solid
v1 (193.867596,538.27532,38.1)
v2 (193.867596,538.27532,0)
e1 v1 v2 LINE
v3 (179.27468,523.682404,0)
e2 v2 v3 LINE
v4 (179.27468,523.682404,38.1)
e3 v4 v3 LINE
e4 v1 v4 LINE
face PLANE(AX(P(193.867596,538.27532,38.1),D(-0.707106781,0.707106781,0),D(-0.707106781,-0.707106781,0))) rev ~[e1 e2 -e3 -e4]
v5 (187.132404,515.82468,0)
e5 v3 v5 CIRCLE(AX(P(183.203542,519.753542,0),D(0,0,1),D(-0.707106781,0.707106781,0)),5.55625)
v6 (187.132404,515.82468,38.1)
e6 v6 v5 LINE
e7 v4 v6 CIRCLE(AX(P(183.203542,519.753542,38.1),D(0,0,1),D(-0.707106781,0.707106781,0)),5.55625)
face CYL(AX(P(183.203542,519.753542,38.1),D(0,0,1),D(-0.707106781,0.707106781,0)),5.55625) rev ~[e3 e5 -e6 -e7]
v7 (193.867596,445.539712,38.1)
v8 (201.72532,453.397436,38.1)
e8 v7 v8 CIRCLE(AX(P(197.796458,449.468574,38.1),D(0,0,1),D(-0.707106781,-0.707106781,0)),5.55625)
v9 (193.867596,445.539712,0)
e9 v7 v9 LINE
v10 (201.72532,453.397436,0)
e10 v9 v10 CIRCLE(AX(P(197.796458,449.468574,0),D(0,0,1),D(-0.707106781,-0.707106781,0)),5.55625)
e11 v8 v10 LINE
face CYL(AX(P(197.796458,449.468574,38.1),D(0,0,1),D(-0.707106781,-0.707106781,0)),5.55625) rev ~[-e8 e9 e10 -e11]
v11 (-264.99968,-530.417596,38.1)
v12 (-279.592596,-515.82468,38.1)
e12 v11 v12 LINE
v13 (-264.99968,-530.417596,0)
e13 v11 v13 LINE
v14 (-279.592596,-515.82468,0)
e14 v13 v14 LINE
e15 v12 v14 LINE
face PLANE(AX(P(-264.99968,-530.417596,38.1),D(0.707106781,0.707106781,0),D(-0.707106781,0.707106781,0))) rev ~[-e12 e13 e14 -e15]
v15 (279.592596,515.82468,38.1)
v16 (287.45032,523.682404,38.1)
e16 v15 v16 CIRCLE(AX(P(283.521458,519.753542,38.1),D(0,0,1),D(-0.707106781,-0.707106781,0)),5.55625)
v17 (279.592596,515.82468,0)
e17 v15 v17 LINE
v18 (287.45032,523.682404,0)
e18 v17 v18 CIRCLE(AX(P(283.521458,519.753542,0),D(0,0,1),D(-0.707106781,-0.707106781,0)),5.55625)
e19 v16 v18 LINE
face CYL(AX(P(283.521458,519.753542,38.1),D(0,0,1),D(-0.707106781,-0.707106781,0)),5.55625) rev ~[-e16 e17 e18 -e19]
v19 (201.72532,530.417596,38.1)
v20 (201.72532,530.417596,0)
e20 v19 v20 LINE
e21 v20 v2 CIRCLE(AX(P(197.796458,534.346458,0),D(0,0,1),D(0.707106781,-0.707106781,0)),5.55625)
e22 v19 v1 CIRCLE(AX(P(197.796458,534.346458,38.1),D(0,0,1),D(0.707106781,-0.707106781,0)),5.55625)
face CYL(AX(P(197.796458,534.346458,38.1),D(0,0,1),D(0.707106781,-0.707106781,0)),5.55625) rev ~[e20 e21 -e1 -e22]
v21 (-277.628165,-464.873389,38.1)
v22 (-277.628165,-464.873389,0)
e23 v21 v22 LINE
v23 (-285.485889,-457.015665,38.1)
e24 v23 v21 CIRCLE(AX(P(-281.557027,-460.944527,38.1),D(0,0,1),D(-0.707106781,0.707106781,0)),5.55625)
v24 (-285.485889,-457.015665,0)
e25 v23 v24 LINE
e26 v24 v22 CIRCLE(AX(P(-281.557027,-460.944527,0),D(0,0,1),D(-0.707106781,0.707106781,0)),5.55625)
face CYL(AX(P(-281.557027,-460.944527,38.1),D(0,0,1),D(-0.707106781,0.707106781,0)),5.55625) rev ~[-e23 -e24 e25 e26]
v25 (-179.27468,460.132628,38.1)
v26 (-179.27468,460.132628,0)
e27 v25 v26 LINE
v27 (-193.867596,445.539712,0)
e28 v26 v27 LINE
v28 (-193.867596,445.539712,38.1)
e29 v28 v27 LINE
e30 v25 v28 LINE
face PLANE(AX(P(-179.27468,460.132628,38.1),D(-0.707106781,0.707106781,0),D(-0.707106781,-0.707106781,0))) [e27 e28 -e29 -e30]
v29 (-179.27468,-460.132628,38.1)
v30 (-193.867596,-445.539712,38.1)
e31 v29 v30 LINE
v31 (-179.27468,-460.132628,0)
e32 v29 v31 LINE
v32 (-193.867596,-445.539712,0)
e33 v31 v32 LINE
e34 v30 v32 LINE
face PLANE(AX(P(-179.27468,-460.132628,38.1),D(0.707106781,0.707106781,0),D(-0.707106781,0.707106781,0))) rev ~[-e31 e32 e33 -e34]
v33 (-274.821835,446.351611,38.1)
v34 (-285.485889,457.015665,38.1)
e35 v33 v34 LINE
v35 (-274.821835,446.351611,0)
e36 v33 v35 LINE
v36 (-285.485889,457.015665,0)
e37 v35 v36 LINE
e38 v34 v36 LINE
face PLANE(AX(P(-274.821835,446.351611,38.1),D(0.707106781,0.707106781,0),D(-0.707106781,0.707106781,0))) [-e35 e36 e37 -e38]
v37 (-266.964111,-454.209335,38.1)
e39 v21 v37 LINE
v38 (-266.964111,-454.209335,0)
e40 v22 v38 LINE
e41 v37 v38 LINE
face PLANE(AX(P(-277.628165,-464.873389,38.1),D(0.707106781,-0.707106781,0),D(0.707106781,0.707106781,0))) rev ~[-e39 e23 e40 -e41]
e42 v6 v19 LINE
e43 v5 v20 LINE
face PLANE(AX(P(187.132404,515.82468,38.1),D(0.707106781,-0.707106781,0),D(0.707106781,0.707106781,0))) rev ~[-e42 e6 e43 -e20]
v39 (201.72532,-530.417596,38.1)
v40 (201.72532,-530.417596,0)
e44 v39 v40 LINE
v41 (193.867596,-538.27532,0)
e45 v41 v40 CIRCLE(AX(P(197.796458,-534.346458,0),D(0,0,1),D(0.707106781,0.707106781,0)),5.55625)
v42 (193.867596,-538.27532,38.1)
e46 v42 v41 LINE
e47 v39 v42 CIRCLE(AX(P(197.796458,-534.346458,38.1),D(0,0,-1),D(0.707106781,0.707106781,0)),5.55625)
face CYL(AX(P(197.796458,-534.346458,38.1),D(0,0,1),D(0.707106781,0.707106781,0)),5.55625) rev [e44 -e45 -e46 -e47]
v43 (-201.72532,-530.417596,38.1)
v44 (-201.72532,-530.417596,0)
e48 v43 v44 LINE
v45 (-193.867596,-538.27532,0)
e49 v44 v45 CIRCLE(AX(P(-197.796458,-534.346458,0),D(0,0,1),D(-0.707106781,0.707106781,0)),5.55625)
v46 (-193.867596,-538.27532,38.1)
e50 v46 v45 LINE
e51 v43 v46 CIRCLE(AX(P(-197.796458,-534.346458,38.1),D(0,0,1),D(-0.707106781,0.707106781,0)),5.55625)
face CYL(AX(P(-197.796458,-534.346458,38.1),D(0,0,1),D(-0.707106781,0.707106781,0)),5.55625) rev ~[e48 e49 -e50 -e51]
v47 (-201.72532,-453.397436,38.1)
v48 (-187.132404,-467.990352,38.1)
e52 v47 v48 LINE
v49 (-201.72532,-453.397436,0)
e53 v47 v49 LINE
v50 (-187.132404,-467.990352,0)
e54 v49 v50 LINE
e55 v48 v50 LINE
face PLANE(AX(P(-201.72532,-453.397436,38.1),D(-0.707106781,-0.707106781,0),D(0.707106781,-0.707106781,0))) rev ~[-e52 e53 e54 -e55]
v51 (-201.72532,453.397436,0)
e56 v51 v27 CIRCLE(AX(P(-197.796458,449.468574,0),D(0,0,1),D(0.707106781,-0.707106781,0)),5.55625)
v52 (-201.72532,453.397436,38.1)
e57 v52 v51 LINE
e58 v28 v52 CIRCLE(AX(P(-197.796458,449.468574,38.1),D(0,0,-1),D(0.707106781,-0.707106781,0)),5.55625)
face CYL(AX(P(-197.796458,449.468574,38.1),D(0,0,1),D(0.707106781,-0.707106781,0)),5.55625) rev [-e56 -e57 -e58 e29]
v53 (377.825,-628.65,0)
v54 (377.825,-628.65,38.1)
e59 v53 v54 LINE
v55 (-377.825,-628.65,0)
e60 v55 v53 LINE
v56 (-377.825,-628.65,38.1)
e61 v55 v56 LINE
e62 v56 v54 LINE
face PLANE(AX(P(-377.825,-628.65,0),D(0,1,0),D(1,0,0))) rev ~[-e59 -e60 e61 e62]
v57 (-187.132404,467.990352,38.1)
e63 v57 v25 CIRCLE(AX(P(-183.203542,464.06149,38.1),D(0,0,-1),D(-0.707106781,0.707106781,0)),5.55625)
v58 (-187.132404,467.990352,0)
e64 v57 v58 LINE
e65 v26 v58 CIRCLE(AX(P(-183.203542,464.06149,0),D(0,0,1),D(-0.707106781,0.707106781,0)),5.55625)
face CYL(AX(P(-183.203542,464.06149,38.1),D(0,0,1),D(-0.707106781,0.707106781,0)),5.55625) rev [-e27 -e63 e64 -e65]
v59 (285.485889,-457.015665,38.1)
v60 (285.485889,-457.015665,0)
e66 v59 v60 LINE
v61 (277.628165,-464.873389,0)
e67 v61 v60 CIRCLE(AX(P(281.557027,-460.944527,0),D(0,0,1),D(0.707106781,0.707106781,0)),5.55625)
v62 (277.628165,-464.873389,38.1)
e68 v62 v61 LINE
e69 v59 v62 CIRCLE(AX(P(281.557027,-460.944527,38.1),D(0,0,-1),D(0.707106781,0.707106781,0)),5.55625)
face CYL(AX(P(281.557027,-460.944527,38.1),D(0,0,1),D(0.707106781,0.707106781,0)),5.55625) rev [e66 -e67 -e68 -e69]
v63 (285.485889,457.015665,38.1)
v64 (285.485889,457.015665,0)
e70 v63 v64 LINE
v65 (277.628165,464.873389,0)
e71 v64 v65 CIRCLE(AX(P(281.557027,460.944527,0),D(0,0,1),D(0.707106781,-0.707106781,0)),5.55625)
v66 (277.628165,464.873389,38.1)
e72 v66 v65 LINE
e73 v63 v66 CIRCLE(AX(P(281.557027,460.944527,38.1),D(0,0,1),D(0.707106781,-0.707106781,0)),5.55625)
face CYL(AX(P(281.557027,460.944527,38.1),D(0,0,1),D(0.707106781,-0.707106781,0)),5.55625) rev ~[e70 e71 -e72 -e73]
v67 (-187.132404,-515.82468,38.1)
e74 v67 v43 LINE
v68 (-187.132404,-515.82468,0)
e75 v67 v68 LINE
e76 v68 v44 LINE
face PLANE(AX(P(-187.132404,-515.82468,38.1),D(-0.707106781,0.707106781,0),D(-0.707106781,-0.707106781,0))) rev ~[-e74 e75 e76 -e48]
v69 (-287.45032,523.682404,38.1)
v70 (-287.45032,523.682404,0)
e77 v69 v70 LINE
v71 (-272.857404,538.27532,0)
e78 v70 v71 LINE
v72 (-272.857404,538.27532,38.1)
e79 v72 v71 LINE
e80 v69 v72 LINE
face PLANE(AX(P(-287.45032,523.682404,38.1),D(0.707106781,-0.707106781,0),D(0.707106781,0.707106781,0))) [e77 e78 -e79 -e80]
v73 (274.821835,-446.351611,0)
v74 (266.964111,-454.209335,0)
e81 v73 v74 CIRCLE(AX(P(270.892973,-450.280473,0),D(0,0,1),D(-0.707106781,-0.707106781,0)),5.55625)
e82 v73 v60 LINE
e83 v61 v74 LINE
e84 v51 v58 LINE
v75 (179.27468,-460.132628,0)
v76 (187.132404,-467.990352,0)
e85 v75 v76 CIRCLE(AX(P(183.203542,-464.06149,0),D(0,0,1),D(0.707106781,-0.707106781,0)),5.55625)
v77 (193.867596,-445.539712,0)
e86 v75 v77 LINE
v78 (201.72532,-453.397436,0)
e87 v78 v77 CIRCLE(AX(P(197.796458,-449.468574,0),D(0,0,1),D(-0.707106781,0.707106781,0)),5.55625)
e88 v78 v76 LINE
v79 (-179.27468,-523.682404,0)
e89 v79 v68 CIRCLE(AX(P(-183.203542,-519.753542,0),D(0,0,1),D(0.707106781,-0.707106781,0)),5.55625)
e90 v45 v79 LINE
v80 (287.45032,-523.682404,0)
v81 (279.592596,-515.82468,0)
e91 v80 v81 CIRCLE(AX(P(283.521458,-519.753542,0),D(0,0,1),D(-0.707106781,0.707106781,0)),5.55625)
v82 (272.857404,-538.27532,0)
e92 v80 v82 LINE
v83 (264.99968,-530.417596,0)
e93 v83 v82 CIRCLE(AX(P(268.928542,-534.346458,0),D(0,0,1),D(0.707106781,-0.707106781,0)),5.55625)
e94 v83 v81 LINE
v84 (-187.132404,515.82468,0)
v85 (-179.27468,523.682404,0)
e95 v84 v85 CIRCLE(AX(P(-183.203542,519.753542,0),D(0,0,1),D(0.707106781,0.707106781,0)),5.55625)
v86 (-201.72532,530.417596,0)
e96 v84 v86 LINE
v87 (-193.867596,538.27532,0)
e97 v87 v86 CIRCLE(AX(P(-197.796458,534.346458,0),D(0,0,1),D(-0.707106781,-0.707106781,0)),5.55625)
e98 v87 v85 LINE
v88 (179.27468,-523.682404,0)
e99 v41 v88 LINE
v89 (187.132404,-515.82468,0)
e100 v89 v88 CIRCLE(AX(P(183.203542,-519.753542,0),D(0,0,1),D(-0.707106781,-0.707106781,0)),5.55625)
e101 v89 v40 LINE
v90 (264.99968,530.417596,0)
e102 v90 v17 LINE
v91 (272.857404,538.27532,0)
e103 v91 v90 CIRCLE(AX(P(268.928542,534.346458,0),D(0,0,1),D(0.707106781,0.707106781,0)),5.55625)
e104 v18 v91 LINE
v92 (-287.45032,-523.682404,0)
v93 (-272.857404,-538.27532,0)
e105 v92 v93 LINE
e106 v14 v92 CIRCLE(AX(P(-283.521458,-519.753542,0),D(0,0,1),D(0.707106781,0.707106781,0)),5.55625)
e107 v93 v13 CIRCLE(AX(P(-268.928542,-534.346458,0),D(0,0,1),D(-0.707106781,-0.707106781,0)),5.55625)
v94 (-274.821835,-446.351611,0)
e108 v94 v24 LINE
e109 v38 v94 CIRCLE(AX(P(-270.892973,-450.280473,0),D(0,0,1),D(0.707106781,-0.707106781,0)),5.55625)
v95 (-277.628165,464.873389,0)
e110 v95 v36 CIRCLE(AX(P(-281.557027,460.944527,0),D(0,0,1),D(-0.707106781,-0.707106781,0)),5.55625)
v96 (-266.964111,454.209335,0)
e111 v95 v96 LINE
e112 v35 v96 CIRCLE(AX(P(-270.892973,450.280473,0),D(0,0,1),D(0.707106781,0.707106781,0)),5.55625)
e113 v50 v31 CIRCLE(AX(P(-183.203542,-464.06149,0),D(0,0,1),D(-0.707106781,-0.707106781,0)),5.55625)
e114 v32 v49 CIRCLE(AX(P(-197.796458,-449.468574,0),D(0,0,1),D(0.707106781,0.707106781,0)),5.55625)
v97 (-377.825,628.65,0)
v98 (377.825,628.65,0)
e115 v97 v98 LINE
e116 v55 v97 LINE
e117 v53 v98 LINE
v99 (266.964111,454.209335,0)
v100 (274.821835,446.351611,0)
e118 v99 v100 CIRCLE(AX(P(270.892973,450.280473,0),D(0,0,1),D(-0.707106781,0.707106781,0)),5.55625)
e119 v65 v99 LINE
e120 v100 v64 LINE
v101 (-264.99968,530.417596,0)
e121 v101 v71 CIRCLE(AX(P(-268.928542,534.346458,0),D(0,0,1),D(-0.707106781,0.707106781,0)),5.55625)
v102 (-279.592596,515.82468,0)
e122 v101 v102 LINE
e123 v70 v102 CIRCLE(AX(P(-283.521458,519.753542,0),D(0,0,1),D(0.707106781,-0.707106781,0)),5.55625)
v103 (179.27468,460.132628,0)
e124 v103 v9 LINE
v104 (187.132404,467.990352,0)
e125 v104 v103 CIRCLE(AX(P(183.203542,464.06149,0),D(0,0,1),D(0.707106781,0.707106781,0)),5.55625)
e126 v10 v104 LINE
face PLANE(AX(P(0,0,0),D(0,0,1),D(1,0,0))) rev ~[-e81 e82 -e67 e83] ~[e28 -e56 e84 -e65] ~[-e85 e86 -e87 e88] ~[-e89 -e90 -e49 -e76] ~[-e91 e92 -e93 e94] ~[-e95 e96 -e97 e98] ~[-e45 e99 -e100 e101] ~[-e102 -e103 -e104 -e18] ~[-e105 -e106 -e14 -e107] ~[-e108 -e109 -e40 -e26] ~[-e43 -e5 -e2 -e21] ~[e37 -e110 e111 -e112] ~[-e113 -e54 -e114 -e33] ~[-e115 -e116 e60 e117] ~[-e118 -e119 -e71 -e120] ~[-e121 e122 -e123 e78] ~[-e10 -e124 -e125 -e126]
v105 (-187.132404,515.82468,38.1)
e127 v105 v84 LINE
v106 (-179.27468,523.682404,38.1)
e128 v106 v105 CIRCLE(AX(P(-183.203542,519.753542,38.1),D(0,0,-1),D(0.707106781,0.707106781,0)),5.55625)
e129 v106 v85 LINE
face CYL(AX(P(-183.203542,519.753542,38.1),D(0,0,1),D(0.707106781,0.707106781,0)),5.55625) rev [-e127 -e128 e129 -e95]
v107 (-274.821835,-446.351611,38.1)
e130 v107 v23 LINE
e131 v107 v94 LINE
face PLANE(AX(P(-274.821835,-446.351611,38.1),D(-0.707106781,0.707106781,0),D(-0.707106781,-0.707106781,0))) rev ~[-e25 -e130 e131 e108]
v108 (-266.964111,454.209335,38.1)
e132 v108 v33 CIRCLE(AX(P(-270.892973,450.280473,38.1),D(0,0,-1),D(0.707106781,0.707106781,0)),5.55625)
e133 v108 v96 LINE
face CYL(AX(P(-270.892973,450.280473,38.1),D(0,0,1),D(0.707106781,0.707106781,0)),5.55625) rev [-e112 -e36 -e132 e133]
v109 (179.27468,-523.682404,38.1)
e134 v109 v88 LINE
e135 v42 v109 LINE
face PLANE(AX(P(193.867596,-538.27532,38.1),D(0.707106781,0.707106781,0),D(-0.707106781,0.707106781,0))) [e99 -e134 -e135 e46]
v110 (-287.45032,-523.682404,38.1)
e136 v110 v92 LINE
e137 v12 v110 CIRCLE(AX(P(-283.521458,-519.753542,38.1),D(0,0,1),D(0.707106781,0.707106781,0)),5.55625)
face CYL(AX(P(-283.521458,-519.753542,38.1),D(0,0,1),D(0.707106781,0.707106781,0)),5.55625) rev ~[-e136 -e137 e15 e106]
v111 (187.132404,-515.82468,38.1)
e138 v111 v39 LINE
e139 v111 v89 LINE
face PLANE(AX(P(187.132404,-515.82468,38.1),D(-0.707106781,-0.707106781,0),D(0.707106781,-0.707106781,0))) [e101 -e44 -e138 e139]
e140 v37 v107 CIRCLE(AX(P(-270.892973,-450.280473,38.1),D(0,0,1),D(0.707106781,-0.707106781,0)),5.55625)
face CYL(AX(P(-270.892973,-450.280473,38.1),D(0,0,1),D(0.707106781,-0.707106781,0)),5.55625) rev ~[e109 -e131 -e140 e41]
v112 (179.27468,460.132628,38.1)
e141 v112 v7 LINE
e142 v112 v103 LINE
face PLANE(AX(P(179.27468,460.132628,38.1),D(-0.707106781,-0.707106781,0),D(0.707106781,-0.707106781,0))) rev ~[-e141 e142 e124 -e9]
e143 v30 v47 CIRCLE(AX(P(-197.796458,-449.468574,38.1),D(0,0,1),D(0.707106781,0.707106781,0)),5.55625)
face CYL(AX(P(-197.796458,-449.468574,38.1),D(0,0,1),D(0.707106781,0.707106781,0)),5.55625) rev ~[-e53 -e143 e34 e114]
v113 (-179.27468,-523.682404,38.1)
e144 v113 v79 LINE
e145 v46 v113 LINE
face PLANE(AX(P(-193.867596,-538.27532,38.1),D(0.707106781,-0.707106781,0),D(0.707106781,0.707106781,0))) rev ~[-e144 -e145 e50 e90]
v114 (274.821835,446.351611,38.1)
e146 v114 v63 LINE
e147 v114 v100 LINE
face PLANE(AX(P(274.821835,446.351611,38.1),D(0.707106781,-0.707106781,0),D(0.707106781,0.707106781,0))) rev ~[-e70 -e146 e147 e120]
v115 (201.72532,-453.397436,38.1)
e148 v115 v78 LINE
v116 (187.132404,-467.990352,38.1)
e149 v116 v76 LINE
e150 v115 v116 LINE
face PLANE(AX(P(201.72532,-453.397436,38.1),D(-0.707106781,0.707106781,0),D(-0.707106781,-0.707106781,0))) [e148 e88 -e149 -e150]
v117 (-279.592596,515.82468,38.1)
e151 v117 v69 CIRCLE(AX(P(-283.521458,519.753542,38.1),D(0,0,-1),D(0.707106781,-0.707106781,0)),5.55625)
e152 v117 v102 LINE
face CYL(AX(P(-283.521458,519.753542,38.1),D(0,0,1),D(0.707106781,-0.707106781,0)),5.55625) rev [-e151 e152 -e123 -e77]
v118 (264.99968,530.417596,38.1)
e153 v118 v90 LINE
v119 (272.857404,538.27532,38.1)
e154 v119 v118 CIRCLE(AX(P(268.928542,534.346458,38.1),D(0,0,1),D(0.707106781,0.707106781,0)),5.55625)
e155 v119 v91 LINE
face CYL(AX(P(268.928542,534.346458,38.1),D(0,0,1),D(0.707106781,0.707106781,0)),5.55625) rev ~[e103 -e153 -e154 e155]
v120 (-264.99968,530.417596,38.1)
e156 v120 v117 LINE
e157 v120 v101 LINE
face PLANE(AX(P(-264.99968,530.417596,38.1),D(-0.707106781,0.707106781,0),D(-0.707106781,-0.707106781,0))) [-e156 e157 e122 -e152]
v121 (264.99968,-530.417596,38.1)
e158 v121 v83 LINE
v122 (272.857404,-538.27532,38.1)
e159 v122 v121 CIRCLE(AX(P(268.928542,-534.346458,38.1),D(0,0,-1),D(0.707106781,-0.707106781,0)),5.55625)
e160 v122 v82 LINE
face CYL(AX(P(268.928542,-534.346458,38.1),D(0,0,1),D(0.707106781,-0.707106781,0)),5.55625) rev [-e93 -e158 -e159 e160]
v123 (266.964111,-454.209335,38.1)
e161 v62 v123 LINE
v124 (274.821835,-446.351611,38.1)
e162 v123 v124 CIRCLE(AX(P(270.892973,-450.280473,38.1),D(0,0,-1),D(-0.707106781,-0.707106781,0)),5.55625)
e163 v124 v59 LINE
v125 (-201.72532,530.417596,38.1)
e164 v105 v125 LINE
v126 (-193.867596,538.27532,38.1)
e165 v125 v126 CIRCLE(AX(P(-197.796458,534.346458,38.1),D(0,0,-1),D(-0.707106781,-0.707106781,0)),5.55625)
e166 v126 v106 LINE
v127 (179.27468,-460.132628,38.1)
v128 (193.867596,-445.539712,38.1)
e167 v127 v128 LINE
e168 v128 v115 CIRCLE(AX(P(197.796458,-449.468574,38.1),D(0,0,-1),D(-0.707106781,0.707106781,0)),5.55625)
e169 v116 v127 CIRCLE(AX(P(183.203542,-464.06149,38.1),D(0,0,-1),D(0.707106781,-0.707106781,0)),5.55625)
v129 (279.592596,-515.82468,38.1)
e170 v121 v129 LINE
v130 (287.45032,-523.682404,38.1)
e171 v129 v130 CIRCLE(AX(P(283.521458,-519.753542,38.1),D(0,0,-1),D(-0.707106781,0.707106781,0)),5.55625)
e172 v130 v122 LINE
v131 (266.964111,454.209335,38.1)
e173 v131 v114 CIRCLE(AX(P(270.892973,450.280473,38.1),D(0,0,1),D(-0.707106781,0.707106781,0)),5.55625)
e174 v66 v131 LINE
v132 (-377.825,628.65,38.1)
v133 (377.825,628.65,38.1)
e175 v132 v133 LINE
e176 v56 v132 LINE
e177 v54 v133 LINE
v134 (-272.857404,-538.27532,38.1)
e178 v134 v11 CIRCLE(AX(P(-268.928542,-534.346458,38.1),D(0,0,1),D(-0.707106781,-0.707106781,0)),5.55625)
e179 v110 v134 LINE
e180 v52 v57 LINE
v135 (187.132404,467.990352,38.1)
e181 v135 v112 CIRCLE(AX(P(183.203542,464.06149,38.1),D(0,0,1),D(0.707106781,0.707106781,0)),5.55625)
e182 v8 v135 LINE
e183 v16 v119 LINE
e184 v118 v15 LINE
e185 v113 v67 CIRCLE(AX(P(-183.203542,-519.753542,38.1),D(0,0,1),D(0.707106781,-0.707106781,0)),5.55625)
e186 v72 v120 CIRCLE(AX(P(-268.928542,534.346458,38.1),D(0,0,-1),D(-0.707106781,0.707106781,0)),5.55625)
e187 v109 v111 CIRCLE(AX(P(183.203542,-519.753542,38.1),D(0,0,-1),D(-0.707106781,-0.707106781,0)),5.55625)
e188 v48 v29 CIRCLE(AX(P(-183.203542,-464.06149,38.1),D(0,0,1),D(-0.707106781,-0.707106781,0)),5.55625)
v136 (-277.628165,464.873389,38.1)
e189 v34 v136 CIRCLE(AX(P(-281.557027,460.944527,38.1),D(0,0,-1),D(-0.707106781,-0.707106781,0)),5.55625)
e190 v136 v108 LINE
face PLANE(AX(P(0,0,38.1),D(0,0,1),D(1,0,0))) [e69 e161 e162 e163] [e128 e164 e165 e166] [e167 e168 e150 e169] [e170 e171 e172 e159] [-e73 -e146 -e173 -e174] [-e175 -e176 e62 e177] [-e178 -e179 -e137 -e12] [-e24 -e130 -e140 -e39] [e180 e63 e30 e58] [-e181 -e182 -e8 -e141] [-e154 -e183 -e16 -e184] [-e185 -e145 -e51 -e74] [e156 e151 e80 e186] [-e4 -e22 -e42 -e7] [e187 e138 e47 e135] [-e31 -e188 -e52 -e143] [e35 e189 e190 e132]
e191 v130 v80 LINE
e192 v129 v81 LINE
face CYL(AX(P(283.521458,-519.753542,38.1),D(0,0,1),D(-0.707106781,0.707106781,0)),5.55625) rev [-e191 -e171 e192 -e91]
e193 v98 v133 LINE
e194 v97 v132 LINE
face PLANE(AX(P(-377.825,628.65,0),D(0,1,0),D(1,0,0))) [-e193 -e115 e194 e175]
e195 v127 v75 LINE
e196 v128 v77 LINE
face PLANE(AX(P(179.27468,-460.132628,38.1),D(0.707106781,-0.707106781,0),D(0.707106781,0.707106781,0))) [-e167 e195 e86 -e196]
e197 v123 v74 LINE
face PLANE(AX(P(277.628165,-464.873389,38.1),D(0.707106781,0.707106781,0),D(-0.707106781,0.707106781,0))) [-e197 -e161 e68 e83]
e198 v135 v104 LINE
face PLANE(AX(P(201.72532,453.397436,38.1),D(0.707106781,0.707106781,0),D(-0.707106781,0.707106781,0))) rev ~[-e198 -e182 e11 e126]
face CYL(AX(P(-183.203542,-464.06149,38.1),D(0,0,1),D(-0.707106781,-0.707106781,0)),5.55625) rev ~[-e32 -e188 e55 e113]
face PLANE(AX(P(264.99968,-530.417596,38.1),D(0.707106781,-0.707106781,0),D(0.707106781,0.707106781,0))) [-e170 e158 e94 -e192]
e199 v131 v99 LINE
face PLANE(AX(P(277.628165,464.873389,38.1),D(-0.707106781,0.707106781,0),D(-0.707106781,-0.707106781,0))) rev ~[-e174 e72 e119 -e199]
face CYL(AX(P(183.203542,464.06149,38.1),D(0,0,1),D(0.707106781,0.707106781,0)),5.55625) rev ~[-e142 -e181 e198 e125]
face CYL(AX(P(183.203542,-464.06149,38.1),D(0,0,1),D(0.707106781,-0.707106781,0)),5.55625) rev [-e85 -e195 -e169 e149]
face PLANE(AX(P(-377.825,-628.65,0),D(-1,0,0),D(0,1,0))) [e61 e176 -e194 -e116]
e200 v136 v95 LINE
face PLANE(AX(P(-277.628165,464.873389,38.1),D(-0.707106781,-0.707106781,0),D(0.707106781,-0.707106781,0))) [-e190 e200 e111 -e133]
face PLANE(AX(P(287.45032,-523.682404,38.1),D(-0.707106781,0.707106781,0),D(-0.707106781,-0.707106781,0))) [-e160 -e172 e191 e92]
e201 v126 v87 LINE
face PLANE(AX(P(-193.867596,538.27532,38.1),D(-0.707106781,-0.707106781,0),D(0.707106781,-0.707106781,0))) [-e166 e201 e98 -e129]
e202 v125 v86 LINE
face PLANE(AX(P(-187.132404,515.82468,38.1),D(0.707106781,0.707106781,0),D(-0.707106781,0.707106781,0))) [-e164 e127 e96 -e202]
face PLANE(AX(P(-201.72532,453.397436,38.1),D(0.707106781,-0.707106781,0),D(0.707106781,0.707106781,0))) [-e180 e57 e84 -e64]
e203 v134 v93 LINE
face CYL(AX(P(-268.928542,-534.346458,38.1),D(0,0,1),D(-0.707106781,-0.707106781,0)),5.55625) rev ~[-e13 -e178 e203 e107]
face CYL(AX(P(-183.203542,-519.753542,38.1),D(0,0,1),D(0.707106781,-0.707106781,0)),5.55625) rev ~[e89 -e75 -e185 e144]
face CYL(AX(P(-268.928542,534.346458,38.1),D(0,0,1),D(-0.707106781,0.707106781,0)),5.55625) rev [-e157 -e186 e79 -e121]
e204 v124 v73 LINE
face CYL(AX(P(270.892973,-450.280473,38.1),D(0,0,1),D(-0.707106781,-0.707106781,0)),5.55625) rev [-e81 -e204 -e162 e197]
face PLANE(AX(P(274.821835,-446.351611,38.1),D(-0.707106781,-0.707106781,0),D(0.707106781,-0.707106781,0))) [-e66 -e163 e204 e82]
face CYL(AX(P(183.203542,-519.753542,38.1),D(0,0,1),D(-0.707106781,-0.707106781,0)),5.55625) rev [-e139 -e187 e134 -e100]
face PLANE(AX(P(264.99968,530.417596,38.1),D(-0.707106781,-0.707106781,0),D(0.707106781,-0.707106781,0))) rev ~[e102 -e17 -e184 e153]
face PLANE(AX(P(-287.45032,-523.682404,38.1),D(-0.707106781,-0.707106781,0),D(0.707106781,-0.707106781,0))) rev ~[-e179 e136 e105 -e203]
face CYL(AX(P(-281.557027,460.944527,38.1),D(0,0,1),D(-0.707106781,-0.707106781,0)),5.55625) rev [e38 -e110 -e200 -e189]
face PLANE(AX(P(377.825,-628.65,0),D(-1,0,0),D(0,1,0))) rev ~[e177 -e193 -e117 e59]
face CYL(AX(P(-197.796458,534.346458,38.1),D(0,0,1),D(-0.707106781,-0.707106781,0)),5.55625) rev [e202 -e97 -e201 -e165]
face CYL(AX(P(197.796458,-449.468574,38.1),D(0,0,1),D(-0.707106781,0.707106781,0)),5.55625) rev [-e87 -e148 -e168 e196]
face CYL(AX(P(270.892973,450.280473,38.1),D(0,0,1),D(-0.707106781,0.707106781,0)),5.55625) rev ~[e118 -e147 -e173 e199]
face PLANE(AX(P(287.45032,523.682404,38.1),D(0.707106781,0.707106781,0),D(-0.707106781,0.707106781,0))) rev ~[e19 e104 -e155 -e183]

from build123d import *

# Parameters (mm, degrees)
SKETCH1_W           = 755.65
SKETCH1_H           = 1257.3
BOSS_EXTRUDE1_DEPTH = 38.1
CUT_EXTRUDE3_DEPTH  = 735.441395296


with BuildPart() as part:
    # Sketch1 → Boss-Extrude1 (new body)
    with BuildSketch(Plane.XY):
        Rectangle(SKETCH1_W, SKETCH1_H)
    extrude(amount=BOSS_EXTRUDE1_DEPTH)

    # Sketch6 → Cut-Extrude3 (cut, through all)
    with BuildSketch(Plane.XY.offset(38.1)):
        with BuildLine():
            Line((287.450320151, -523.682403955), (272.857403955, -538.275320151))
            ThreePointArc((272.857403955, -538.275320151), (264.999679849, -538.275320151), (264.999679849, -530.417596045))
            Line((264.999679849, -530.417596045), (279.592596045, -515.824679849))
            ThreePointArc((279.592596045, -515.824679849), (287.450320151, -515.824679849), (287.450320151, -523.682403955))
        make_face()
        with BuildLine():
            Line((-287.450320151, -523.682403955), (-272.857403955, -538.275320151))
            ThreePointArc((-272.857403955, -538.275320151), (-264.999679849, -538.275320151), (-264.999679849, -530.417596045))
            Line((-264.999679849, -530.417596045), (-279.592596045, -515.824679849))
            ThreePointArc((-279.592596045, -515.824679849), (-287.450320151, -515.824679849), (-287.450320151, -523.682403955))
        make_face()
        with BuildLine():
            Line((-193.867596045, -538.275320151), (-179.274679849, -523.682403955))
            ThreePointArc((-179.274679849, -523.682403955), (-179.274679849, -515.824679849), (-187.132403955, -515.824679849))
            Line((-187.132403955, -515.824679849), (-201.725320151, -530.417596045))
            ThreePointArc((-201.725320151, -530.417596045), (-201.725320151, -538.275320151), (-193.867596045, -538.275320151))
        make_face()
        with BuildLine():
            Line((-274.821834981, -446.351610875), (-285.485889125, -457.015665019))
            ThreePointArc((-285.485889125, -457.015665019), (-285.485889125, -464.873389125), (-277.628165019, -464.873389125))
            Line((-277.628165019, -464.873389125), (-266.964110875, -454.209334981))
            ThreePointArc((-266.964110875, -454.209334981), (-266.964110875, -446.351610875), (-274.821834981, -446.351610875))
        make_face()
        with BuildLine():
            Line((193.867596045, -538.275320151), (179.274679849, -523.682403955))
            ThreePointArc((179.274679849, -523.682403955), (179.274679849, -515.824679849), (187.132403955, -515.824679849))
            Line((187.132403955, -515.824679849), (201.725320151, -530.417596045))
            ThreePointArc((201.725320151, -530.417596045), (201.725320151, -538.275320151), (193.867596045, -538.275320151))
        make_face()
        with BuildLine():
            Line((274.821834981, -446.351610875), (285.485889125, -457.015665019))
            ThreePointArc((285.485889125, -457.015665019), (285.485889125, -464.873389125), (277.628165019, -464.873389125))
            Line((277.628165019, -464.873389125), (266.964110875, -454.209334981))
            ThreePointArc((266.964110875, -454.209334981), (266.964110875, -446.351610875), (274.821834981, -446.351610875))
        make_face()
        with BuildLine():
            Line((201.725320151, -453.397436213), (187.132403955, -467.99035241))
            ThreePointArc((187.132403955, -467.99035241), (179.274679849, -467.99035241), (179.274679849, -460.132628304))
            Line((179.274679849, -460.132628304), (193.867596045, -445.539712107))
            ThreePointArc((193.867596045, -445.539712107), (201.725320151, -445.539712107), (201.725320151, -453.397436213))
        make_face()
        with BuildLine():
            Line((-201.725320151, -453.397436213), (-187.132403955, -467.99035241))
            ThreePointArc((-187.132403955, -467.99035241), (-179.274679849, -467.99035241), (-179.274679849, -460.132628304))
            Line((-179.274679849, -460.132628304), (-193.867596045, -445.539712107))
            ThreePointArc((-193.867596045, -445.539712107), (-201.725320151, -445.539712107), (-201.725320151, -453.397436213))
        make_face()
        with BuildLine():
            Line((287.450320151, 523.682403955), (272.857403955, 538.275320151))
            ThreePointArc((272.857403955, 538.275320151), (264.999679849, 538.275320151), (264.999679849, 530.417596045))
            Line((264.999679849, 530.417596045), (279.592596045, 515.824679849))
            ThreePointArc((279.592596045, 515.824679849), (287.450320151, 515.824679849), (287.450320151, 523.682403955))
        make_face()
        with BuildLine():
            Line((193.867596045, 538.275320151), (179.274679849, 523.682403955))
            ThreePointArc((179.274679849, 523.682403955), (179.274679849, 515.824679849), (187.132403955, 515.824679849))
            Line((187.132403955, 515.824679849), (201.725320151, 530.417596045))
            ThreePointArc((201.725320151, 530.417596045), (201.725320151, 538.275320151), (193.867596045, 538.275320151))
        make_face()
        with BuildLine():
            Line((-287.450320151, 523.682403955), (-272.857403955, 538.275320151))
            ThreePointArc((-272.857403955, 538.275320151), (-264.999679849, 538.275320151), (-264.999679849, 530.417596045))
            Line((-264.999679849, 530.417596045), (-279.592596045, 515.824679849))
            ThreePointArc((-279.592596045, 515.824679849), (-287.450320151, 515.824679849), (-287.450320151, 523.682403955))
        make_face()
        with BuildLine():
            Line((-193.867596045, 538.275320151), (-179.274679849, 523.682403955))
            ThreePointArc((-179.274679849, 523.682403955), (-179.274679849, 515.824679849), (-187.132403955, 515.824679849))
            Line((-187.132403955, 515.824679849), (-201.725320151, 530.417596045))
            ThreePointArc((-201.725320151, 530.417596045), (-201.725320151, 538.275320151), (-193.867596045, 538.275320151))
        make_face()
        with BuildLine():
            Line((-274.821834981, 446.351610875), (-285.485889125, 457.015665019))
            ThreePointArc((-285.485889125, 457.015665019), (-285.485889125, 464.873389125), (-277.628165019, 464.873389125))
            Line((-277.628165019, 464.873389125), (-266.964110875, 454.209334981))
            ThreePointArc((-266.964110875, 454.209334981), (-266.964110875, 446.351610875), (-274.821834981, 446.351610875))
        make_face()
        with BuildLine():
            Line((274.821834981, 446.351610875), (285.485889125, 457.015665019))
            ThreePointArc((285.485889125, 457.015665019), (285.485889125, 464.873389125), (277.628165019, 464.873389125))
            Line((277.628165019, 464.873389125), (266.964110875, 454.209334981))
            ThreePointArc((266.964110875, 454.209334981), (266.964110875, 446.351610875), (274.821834981, 446.351610875))
        make_face()
        with BuildLine():
            Line((201.725320151, 453.397436213), (187.132403955, 467.99035241))
            ThreePointArc((187.132403955, 467.99035241), (179.274679849, 467.99035241), (179.274679849, 460.132628304))
            Line((179.274679849, 460.132628304), (193.867596045, 445.539712107))
            ThreePointArc((193.867596045, 445.539712107), (201.725320151, 445.539712107), (201.725320151, 453.397436213))
        make_face()
        with BuildLine():
            Line((-201.725320151, 453.397436213), (-187.132403955, 467.99035241))
            ThreePointArc((-187.132403955, 467.99035241), (-179.274679849, 467.99035241), (-179.274679849, 460.132628304))
            Line((-179.274679849, 460.132628304), (-193.867596045, 445.539712107))
            ThreePointArc((-193.867596045, 445.539712107), (-201.725320151, 445.539712107), (-201.725320151, 453.397436213))
        make_face()
    extrude(amount=-CUT_EXTRUDE3_DEPTH, mode=Mode.SUBTRACT)


solid = part.part
